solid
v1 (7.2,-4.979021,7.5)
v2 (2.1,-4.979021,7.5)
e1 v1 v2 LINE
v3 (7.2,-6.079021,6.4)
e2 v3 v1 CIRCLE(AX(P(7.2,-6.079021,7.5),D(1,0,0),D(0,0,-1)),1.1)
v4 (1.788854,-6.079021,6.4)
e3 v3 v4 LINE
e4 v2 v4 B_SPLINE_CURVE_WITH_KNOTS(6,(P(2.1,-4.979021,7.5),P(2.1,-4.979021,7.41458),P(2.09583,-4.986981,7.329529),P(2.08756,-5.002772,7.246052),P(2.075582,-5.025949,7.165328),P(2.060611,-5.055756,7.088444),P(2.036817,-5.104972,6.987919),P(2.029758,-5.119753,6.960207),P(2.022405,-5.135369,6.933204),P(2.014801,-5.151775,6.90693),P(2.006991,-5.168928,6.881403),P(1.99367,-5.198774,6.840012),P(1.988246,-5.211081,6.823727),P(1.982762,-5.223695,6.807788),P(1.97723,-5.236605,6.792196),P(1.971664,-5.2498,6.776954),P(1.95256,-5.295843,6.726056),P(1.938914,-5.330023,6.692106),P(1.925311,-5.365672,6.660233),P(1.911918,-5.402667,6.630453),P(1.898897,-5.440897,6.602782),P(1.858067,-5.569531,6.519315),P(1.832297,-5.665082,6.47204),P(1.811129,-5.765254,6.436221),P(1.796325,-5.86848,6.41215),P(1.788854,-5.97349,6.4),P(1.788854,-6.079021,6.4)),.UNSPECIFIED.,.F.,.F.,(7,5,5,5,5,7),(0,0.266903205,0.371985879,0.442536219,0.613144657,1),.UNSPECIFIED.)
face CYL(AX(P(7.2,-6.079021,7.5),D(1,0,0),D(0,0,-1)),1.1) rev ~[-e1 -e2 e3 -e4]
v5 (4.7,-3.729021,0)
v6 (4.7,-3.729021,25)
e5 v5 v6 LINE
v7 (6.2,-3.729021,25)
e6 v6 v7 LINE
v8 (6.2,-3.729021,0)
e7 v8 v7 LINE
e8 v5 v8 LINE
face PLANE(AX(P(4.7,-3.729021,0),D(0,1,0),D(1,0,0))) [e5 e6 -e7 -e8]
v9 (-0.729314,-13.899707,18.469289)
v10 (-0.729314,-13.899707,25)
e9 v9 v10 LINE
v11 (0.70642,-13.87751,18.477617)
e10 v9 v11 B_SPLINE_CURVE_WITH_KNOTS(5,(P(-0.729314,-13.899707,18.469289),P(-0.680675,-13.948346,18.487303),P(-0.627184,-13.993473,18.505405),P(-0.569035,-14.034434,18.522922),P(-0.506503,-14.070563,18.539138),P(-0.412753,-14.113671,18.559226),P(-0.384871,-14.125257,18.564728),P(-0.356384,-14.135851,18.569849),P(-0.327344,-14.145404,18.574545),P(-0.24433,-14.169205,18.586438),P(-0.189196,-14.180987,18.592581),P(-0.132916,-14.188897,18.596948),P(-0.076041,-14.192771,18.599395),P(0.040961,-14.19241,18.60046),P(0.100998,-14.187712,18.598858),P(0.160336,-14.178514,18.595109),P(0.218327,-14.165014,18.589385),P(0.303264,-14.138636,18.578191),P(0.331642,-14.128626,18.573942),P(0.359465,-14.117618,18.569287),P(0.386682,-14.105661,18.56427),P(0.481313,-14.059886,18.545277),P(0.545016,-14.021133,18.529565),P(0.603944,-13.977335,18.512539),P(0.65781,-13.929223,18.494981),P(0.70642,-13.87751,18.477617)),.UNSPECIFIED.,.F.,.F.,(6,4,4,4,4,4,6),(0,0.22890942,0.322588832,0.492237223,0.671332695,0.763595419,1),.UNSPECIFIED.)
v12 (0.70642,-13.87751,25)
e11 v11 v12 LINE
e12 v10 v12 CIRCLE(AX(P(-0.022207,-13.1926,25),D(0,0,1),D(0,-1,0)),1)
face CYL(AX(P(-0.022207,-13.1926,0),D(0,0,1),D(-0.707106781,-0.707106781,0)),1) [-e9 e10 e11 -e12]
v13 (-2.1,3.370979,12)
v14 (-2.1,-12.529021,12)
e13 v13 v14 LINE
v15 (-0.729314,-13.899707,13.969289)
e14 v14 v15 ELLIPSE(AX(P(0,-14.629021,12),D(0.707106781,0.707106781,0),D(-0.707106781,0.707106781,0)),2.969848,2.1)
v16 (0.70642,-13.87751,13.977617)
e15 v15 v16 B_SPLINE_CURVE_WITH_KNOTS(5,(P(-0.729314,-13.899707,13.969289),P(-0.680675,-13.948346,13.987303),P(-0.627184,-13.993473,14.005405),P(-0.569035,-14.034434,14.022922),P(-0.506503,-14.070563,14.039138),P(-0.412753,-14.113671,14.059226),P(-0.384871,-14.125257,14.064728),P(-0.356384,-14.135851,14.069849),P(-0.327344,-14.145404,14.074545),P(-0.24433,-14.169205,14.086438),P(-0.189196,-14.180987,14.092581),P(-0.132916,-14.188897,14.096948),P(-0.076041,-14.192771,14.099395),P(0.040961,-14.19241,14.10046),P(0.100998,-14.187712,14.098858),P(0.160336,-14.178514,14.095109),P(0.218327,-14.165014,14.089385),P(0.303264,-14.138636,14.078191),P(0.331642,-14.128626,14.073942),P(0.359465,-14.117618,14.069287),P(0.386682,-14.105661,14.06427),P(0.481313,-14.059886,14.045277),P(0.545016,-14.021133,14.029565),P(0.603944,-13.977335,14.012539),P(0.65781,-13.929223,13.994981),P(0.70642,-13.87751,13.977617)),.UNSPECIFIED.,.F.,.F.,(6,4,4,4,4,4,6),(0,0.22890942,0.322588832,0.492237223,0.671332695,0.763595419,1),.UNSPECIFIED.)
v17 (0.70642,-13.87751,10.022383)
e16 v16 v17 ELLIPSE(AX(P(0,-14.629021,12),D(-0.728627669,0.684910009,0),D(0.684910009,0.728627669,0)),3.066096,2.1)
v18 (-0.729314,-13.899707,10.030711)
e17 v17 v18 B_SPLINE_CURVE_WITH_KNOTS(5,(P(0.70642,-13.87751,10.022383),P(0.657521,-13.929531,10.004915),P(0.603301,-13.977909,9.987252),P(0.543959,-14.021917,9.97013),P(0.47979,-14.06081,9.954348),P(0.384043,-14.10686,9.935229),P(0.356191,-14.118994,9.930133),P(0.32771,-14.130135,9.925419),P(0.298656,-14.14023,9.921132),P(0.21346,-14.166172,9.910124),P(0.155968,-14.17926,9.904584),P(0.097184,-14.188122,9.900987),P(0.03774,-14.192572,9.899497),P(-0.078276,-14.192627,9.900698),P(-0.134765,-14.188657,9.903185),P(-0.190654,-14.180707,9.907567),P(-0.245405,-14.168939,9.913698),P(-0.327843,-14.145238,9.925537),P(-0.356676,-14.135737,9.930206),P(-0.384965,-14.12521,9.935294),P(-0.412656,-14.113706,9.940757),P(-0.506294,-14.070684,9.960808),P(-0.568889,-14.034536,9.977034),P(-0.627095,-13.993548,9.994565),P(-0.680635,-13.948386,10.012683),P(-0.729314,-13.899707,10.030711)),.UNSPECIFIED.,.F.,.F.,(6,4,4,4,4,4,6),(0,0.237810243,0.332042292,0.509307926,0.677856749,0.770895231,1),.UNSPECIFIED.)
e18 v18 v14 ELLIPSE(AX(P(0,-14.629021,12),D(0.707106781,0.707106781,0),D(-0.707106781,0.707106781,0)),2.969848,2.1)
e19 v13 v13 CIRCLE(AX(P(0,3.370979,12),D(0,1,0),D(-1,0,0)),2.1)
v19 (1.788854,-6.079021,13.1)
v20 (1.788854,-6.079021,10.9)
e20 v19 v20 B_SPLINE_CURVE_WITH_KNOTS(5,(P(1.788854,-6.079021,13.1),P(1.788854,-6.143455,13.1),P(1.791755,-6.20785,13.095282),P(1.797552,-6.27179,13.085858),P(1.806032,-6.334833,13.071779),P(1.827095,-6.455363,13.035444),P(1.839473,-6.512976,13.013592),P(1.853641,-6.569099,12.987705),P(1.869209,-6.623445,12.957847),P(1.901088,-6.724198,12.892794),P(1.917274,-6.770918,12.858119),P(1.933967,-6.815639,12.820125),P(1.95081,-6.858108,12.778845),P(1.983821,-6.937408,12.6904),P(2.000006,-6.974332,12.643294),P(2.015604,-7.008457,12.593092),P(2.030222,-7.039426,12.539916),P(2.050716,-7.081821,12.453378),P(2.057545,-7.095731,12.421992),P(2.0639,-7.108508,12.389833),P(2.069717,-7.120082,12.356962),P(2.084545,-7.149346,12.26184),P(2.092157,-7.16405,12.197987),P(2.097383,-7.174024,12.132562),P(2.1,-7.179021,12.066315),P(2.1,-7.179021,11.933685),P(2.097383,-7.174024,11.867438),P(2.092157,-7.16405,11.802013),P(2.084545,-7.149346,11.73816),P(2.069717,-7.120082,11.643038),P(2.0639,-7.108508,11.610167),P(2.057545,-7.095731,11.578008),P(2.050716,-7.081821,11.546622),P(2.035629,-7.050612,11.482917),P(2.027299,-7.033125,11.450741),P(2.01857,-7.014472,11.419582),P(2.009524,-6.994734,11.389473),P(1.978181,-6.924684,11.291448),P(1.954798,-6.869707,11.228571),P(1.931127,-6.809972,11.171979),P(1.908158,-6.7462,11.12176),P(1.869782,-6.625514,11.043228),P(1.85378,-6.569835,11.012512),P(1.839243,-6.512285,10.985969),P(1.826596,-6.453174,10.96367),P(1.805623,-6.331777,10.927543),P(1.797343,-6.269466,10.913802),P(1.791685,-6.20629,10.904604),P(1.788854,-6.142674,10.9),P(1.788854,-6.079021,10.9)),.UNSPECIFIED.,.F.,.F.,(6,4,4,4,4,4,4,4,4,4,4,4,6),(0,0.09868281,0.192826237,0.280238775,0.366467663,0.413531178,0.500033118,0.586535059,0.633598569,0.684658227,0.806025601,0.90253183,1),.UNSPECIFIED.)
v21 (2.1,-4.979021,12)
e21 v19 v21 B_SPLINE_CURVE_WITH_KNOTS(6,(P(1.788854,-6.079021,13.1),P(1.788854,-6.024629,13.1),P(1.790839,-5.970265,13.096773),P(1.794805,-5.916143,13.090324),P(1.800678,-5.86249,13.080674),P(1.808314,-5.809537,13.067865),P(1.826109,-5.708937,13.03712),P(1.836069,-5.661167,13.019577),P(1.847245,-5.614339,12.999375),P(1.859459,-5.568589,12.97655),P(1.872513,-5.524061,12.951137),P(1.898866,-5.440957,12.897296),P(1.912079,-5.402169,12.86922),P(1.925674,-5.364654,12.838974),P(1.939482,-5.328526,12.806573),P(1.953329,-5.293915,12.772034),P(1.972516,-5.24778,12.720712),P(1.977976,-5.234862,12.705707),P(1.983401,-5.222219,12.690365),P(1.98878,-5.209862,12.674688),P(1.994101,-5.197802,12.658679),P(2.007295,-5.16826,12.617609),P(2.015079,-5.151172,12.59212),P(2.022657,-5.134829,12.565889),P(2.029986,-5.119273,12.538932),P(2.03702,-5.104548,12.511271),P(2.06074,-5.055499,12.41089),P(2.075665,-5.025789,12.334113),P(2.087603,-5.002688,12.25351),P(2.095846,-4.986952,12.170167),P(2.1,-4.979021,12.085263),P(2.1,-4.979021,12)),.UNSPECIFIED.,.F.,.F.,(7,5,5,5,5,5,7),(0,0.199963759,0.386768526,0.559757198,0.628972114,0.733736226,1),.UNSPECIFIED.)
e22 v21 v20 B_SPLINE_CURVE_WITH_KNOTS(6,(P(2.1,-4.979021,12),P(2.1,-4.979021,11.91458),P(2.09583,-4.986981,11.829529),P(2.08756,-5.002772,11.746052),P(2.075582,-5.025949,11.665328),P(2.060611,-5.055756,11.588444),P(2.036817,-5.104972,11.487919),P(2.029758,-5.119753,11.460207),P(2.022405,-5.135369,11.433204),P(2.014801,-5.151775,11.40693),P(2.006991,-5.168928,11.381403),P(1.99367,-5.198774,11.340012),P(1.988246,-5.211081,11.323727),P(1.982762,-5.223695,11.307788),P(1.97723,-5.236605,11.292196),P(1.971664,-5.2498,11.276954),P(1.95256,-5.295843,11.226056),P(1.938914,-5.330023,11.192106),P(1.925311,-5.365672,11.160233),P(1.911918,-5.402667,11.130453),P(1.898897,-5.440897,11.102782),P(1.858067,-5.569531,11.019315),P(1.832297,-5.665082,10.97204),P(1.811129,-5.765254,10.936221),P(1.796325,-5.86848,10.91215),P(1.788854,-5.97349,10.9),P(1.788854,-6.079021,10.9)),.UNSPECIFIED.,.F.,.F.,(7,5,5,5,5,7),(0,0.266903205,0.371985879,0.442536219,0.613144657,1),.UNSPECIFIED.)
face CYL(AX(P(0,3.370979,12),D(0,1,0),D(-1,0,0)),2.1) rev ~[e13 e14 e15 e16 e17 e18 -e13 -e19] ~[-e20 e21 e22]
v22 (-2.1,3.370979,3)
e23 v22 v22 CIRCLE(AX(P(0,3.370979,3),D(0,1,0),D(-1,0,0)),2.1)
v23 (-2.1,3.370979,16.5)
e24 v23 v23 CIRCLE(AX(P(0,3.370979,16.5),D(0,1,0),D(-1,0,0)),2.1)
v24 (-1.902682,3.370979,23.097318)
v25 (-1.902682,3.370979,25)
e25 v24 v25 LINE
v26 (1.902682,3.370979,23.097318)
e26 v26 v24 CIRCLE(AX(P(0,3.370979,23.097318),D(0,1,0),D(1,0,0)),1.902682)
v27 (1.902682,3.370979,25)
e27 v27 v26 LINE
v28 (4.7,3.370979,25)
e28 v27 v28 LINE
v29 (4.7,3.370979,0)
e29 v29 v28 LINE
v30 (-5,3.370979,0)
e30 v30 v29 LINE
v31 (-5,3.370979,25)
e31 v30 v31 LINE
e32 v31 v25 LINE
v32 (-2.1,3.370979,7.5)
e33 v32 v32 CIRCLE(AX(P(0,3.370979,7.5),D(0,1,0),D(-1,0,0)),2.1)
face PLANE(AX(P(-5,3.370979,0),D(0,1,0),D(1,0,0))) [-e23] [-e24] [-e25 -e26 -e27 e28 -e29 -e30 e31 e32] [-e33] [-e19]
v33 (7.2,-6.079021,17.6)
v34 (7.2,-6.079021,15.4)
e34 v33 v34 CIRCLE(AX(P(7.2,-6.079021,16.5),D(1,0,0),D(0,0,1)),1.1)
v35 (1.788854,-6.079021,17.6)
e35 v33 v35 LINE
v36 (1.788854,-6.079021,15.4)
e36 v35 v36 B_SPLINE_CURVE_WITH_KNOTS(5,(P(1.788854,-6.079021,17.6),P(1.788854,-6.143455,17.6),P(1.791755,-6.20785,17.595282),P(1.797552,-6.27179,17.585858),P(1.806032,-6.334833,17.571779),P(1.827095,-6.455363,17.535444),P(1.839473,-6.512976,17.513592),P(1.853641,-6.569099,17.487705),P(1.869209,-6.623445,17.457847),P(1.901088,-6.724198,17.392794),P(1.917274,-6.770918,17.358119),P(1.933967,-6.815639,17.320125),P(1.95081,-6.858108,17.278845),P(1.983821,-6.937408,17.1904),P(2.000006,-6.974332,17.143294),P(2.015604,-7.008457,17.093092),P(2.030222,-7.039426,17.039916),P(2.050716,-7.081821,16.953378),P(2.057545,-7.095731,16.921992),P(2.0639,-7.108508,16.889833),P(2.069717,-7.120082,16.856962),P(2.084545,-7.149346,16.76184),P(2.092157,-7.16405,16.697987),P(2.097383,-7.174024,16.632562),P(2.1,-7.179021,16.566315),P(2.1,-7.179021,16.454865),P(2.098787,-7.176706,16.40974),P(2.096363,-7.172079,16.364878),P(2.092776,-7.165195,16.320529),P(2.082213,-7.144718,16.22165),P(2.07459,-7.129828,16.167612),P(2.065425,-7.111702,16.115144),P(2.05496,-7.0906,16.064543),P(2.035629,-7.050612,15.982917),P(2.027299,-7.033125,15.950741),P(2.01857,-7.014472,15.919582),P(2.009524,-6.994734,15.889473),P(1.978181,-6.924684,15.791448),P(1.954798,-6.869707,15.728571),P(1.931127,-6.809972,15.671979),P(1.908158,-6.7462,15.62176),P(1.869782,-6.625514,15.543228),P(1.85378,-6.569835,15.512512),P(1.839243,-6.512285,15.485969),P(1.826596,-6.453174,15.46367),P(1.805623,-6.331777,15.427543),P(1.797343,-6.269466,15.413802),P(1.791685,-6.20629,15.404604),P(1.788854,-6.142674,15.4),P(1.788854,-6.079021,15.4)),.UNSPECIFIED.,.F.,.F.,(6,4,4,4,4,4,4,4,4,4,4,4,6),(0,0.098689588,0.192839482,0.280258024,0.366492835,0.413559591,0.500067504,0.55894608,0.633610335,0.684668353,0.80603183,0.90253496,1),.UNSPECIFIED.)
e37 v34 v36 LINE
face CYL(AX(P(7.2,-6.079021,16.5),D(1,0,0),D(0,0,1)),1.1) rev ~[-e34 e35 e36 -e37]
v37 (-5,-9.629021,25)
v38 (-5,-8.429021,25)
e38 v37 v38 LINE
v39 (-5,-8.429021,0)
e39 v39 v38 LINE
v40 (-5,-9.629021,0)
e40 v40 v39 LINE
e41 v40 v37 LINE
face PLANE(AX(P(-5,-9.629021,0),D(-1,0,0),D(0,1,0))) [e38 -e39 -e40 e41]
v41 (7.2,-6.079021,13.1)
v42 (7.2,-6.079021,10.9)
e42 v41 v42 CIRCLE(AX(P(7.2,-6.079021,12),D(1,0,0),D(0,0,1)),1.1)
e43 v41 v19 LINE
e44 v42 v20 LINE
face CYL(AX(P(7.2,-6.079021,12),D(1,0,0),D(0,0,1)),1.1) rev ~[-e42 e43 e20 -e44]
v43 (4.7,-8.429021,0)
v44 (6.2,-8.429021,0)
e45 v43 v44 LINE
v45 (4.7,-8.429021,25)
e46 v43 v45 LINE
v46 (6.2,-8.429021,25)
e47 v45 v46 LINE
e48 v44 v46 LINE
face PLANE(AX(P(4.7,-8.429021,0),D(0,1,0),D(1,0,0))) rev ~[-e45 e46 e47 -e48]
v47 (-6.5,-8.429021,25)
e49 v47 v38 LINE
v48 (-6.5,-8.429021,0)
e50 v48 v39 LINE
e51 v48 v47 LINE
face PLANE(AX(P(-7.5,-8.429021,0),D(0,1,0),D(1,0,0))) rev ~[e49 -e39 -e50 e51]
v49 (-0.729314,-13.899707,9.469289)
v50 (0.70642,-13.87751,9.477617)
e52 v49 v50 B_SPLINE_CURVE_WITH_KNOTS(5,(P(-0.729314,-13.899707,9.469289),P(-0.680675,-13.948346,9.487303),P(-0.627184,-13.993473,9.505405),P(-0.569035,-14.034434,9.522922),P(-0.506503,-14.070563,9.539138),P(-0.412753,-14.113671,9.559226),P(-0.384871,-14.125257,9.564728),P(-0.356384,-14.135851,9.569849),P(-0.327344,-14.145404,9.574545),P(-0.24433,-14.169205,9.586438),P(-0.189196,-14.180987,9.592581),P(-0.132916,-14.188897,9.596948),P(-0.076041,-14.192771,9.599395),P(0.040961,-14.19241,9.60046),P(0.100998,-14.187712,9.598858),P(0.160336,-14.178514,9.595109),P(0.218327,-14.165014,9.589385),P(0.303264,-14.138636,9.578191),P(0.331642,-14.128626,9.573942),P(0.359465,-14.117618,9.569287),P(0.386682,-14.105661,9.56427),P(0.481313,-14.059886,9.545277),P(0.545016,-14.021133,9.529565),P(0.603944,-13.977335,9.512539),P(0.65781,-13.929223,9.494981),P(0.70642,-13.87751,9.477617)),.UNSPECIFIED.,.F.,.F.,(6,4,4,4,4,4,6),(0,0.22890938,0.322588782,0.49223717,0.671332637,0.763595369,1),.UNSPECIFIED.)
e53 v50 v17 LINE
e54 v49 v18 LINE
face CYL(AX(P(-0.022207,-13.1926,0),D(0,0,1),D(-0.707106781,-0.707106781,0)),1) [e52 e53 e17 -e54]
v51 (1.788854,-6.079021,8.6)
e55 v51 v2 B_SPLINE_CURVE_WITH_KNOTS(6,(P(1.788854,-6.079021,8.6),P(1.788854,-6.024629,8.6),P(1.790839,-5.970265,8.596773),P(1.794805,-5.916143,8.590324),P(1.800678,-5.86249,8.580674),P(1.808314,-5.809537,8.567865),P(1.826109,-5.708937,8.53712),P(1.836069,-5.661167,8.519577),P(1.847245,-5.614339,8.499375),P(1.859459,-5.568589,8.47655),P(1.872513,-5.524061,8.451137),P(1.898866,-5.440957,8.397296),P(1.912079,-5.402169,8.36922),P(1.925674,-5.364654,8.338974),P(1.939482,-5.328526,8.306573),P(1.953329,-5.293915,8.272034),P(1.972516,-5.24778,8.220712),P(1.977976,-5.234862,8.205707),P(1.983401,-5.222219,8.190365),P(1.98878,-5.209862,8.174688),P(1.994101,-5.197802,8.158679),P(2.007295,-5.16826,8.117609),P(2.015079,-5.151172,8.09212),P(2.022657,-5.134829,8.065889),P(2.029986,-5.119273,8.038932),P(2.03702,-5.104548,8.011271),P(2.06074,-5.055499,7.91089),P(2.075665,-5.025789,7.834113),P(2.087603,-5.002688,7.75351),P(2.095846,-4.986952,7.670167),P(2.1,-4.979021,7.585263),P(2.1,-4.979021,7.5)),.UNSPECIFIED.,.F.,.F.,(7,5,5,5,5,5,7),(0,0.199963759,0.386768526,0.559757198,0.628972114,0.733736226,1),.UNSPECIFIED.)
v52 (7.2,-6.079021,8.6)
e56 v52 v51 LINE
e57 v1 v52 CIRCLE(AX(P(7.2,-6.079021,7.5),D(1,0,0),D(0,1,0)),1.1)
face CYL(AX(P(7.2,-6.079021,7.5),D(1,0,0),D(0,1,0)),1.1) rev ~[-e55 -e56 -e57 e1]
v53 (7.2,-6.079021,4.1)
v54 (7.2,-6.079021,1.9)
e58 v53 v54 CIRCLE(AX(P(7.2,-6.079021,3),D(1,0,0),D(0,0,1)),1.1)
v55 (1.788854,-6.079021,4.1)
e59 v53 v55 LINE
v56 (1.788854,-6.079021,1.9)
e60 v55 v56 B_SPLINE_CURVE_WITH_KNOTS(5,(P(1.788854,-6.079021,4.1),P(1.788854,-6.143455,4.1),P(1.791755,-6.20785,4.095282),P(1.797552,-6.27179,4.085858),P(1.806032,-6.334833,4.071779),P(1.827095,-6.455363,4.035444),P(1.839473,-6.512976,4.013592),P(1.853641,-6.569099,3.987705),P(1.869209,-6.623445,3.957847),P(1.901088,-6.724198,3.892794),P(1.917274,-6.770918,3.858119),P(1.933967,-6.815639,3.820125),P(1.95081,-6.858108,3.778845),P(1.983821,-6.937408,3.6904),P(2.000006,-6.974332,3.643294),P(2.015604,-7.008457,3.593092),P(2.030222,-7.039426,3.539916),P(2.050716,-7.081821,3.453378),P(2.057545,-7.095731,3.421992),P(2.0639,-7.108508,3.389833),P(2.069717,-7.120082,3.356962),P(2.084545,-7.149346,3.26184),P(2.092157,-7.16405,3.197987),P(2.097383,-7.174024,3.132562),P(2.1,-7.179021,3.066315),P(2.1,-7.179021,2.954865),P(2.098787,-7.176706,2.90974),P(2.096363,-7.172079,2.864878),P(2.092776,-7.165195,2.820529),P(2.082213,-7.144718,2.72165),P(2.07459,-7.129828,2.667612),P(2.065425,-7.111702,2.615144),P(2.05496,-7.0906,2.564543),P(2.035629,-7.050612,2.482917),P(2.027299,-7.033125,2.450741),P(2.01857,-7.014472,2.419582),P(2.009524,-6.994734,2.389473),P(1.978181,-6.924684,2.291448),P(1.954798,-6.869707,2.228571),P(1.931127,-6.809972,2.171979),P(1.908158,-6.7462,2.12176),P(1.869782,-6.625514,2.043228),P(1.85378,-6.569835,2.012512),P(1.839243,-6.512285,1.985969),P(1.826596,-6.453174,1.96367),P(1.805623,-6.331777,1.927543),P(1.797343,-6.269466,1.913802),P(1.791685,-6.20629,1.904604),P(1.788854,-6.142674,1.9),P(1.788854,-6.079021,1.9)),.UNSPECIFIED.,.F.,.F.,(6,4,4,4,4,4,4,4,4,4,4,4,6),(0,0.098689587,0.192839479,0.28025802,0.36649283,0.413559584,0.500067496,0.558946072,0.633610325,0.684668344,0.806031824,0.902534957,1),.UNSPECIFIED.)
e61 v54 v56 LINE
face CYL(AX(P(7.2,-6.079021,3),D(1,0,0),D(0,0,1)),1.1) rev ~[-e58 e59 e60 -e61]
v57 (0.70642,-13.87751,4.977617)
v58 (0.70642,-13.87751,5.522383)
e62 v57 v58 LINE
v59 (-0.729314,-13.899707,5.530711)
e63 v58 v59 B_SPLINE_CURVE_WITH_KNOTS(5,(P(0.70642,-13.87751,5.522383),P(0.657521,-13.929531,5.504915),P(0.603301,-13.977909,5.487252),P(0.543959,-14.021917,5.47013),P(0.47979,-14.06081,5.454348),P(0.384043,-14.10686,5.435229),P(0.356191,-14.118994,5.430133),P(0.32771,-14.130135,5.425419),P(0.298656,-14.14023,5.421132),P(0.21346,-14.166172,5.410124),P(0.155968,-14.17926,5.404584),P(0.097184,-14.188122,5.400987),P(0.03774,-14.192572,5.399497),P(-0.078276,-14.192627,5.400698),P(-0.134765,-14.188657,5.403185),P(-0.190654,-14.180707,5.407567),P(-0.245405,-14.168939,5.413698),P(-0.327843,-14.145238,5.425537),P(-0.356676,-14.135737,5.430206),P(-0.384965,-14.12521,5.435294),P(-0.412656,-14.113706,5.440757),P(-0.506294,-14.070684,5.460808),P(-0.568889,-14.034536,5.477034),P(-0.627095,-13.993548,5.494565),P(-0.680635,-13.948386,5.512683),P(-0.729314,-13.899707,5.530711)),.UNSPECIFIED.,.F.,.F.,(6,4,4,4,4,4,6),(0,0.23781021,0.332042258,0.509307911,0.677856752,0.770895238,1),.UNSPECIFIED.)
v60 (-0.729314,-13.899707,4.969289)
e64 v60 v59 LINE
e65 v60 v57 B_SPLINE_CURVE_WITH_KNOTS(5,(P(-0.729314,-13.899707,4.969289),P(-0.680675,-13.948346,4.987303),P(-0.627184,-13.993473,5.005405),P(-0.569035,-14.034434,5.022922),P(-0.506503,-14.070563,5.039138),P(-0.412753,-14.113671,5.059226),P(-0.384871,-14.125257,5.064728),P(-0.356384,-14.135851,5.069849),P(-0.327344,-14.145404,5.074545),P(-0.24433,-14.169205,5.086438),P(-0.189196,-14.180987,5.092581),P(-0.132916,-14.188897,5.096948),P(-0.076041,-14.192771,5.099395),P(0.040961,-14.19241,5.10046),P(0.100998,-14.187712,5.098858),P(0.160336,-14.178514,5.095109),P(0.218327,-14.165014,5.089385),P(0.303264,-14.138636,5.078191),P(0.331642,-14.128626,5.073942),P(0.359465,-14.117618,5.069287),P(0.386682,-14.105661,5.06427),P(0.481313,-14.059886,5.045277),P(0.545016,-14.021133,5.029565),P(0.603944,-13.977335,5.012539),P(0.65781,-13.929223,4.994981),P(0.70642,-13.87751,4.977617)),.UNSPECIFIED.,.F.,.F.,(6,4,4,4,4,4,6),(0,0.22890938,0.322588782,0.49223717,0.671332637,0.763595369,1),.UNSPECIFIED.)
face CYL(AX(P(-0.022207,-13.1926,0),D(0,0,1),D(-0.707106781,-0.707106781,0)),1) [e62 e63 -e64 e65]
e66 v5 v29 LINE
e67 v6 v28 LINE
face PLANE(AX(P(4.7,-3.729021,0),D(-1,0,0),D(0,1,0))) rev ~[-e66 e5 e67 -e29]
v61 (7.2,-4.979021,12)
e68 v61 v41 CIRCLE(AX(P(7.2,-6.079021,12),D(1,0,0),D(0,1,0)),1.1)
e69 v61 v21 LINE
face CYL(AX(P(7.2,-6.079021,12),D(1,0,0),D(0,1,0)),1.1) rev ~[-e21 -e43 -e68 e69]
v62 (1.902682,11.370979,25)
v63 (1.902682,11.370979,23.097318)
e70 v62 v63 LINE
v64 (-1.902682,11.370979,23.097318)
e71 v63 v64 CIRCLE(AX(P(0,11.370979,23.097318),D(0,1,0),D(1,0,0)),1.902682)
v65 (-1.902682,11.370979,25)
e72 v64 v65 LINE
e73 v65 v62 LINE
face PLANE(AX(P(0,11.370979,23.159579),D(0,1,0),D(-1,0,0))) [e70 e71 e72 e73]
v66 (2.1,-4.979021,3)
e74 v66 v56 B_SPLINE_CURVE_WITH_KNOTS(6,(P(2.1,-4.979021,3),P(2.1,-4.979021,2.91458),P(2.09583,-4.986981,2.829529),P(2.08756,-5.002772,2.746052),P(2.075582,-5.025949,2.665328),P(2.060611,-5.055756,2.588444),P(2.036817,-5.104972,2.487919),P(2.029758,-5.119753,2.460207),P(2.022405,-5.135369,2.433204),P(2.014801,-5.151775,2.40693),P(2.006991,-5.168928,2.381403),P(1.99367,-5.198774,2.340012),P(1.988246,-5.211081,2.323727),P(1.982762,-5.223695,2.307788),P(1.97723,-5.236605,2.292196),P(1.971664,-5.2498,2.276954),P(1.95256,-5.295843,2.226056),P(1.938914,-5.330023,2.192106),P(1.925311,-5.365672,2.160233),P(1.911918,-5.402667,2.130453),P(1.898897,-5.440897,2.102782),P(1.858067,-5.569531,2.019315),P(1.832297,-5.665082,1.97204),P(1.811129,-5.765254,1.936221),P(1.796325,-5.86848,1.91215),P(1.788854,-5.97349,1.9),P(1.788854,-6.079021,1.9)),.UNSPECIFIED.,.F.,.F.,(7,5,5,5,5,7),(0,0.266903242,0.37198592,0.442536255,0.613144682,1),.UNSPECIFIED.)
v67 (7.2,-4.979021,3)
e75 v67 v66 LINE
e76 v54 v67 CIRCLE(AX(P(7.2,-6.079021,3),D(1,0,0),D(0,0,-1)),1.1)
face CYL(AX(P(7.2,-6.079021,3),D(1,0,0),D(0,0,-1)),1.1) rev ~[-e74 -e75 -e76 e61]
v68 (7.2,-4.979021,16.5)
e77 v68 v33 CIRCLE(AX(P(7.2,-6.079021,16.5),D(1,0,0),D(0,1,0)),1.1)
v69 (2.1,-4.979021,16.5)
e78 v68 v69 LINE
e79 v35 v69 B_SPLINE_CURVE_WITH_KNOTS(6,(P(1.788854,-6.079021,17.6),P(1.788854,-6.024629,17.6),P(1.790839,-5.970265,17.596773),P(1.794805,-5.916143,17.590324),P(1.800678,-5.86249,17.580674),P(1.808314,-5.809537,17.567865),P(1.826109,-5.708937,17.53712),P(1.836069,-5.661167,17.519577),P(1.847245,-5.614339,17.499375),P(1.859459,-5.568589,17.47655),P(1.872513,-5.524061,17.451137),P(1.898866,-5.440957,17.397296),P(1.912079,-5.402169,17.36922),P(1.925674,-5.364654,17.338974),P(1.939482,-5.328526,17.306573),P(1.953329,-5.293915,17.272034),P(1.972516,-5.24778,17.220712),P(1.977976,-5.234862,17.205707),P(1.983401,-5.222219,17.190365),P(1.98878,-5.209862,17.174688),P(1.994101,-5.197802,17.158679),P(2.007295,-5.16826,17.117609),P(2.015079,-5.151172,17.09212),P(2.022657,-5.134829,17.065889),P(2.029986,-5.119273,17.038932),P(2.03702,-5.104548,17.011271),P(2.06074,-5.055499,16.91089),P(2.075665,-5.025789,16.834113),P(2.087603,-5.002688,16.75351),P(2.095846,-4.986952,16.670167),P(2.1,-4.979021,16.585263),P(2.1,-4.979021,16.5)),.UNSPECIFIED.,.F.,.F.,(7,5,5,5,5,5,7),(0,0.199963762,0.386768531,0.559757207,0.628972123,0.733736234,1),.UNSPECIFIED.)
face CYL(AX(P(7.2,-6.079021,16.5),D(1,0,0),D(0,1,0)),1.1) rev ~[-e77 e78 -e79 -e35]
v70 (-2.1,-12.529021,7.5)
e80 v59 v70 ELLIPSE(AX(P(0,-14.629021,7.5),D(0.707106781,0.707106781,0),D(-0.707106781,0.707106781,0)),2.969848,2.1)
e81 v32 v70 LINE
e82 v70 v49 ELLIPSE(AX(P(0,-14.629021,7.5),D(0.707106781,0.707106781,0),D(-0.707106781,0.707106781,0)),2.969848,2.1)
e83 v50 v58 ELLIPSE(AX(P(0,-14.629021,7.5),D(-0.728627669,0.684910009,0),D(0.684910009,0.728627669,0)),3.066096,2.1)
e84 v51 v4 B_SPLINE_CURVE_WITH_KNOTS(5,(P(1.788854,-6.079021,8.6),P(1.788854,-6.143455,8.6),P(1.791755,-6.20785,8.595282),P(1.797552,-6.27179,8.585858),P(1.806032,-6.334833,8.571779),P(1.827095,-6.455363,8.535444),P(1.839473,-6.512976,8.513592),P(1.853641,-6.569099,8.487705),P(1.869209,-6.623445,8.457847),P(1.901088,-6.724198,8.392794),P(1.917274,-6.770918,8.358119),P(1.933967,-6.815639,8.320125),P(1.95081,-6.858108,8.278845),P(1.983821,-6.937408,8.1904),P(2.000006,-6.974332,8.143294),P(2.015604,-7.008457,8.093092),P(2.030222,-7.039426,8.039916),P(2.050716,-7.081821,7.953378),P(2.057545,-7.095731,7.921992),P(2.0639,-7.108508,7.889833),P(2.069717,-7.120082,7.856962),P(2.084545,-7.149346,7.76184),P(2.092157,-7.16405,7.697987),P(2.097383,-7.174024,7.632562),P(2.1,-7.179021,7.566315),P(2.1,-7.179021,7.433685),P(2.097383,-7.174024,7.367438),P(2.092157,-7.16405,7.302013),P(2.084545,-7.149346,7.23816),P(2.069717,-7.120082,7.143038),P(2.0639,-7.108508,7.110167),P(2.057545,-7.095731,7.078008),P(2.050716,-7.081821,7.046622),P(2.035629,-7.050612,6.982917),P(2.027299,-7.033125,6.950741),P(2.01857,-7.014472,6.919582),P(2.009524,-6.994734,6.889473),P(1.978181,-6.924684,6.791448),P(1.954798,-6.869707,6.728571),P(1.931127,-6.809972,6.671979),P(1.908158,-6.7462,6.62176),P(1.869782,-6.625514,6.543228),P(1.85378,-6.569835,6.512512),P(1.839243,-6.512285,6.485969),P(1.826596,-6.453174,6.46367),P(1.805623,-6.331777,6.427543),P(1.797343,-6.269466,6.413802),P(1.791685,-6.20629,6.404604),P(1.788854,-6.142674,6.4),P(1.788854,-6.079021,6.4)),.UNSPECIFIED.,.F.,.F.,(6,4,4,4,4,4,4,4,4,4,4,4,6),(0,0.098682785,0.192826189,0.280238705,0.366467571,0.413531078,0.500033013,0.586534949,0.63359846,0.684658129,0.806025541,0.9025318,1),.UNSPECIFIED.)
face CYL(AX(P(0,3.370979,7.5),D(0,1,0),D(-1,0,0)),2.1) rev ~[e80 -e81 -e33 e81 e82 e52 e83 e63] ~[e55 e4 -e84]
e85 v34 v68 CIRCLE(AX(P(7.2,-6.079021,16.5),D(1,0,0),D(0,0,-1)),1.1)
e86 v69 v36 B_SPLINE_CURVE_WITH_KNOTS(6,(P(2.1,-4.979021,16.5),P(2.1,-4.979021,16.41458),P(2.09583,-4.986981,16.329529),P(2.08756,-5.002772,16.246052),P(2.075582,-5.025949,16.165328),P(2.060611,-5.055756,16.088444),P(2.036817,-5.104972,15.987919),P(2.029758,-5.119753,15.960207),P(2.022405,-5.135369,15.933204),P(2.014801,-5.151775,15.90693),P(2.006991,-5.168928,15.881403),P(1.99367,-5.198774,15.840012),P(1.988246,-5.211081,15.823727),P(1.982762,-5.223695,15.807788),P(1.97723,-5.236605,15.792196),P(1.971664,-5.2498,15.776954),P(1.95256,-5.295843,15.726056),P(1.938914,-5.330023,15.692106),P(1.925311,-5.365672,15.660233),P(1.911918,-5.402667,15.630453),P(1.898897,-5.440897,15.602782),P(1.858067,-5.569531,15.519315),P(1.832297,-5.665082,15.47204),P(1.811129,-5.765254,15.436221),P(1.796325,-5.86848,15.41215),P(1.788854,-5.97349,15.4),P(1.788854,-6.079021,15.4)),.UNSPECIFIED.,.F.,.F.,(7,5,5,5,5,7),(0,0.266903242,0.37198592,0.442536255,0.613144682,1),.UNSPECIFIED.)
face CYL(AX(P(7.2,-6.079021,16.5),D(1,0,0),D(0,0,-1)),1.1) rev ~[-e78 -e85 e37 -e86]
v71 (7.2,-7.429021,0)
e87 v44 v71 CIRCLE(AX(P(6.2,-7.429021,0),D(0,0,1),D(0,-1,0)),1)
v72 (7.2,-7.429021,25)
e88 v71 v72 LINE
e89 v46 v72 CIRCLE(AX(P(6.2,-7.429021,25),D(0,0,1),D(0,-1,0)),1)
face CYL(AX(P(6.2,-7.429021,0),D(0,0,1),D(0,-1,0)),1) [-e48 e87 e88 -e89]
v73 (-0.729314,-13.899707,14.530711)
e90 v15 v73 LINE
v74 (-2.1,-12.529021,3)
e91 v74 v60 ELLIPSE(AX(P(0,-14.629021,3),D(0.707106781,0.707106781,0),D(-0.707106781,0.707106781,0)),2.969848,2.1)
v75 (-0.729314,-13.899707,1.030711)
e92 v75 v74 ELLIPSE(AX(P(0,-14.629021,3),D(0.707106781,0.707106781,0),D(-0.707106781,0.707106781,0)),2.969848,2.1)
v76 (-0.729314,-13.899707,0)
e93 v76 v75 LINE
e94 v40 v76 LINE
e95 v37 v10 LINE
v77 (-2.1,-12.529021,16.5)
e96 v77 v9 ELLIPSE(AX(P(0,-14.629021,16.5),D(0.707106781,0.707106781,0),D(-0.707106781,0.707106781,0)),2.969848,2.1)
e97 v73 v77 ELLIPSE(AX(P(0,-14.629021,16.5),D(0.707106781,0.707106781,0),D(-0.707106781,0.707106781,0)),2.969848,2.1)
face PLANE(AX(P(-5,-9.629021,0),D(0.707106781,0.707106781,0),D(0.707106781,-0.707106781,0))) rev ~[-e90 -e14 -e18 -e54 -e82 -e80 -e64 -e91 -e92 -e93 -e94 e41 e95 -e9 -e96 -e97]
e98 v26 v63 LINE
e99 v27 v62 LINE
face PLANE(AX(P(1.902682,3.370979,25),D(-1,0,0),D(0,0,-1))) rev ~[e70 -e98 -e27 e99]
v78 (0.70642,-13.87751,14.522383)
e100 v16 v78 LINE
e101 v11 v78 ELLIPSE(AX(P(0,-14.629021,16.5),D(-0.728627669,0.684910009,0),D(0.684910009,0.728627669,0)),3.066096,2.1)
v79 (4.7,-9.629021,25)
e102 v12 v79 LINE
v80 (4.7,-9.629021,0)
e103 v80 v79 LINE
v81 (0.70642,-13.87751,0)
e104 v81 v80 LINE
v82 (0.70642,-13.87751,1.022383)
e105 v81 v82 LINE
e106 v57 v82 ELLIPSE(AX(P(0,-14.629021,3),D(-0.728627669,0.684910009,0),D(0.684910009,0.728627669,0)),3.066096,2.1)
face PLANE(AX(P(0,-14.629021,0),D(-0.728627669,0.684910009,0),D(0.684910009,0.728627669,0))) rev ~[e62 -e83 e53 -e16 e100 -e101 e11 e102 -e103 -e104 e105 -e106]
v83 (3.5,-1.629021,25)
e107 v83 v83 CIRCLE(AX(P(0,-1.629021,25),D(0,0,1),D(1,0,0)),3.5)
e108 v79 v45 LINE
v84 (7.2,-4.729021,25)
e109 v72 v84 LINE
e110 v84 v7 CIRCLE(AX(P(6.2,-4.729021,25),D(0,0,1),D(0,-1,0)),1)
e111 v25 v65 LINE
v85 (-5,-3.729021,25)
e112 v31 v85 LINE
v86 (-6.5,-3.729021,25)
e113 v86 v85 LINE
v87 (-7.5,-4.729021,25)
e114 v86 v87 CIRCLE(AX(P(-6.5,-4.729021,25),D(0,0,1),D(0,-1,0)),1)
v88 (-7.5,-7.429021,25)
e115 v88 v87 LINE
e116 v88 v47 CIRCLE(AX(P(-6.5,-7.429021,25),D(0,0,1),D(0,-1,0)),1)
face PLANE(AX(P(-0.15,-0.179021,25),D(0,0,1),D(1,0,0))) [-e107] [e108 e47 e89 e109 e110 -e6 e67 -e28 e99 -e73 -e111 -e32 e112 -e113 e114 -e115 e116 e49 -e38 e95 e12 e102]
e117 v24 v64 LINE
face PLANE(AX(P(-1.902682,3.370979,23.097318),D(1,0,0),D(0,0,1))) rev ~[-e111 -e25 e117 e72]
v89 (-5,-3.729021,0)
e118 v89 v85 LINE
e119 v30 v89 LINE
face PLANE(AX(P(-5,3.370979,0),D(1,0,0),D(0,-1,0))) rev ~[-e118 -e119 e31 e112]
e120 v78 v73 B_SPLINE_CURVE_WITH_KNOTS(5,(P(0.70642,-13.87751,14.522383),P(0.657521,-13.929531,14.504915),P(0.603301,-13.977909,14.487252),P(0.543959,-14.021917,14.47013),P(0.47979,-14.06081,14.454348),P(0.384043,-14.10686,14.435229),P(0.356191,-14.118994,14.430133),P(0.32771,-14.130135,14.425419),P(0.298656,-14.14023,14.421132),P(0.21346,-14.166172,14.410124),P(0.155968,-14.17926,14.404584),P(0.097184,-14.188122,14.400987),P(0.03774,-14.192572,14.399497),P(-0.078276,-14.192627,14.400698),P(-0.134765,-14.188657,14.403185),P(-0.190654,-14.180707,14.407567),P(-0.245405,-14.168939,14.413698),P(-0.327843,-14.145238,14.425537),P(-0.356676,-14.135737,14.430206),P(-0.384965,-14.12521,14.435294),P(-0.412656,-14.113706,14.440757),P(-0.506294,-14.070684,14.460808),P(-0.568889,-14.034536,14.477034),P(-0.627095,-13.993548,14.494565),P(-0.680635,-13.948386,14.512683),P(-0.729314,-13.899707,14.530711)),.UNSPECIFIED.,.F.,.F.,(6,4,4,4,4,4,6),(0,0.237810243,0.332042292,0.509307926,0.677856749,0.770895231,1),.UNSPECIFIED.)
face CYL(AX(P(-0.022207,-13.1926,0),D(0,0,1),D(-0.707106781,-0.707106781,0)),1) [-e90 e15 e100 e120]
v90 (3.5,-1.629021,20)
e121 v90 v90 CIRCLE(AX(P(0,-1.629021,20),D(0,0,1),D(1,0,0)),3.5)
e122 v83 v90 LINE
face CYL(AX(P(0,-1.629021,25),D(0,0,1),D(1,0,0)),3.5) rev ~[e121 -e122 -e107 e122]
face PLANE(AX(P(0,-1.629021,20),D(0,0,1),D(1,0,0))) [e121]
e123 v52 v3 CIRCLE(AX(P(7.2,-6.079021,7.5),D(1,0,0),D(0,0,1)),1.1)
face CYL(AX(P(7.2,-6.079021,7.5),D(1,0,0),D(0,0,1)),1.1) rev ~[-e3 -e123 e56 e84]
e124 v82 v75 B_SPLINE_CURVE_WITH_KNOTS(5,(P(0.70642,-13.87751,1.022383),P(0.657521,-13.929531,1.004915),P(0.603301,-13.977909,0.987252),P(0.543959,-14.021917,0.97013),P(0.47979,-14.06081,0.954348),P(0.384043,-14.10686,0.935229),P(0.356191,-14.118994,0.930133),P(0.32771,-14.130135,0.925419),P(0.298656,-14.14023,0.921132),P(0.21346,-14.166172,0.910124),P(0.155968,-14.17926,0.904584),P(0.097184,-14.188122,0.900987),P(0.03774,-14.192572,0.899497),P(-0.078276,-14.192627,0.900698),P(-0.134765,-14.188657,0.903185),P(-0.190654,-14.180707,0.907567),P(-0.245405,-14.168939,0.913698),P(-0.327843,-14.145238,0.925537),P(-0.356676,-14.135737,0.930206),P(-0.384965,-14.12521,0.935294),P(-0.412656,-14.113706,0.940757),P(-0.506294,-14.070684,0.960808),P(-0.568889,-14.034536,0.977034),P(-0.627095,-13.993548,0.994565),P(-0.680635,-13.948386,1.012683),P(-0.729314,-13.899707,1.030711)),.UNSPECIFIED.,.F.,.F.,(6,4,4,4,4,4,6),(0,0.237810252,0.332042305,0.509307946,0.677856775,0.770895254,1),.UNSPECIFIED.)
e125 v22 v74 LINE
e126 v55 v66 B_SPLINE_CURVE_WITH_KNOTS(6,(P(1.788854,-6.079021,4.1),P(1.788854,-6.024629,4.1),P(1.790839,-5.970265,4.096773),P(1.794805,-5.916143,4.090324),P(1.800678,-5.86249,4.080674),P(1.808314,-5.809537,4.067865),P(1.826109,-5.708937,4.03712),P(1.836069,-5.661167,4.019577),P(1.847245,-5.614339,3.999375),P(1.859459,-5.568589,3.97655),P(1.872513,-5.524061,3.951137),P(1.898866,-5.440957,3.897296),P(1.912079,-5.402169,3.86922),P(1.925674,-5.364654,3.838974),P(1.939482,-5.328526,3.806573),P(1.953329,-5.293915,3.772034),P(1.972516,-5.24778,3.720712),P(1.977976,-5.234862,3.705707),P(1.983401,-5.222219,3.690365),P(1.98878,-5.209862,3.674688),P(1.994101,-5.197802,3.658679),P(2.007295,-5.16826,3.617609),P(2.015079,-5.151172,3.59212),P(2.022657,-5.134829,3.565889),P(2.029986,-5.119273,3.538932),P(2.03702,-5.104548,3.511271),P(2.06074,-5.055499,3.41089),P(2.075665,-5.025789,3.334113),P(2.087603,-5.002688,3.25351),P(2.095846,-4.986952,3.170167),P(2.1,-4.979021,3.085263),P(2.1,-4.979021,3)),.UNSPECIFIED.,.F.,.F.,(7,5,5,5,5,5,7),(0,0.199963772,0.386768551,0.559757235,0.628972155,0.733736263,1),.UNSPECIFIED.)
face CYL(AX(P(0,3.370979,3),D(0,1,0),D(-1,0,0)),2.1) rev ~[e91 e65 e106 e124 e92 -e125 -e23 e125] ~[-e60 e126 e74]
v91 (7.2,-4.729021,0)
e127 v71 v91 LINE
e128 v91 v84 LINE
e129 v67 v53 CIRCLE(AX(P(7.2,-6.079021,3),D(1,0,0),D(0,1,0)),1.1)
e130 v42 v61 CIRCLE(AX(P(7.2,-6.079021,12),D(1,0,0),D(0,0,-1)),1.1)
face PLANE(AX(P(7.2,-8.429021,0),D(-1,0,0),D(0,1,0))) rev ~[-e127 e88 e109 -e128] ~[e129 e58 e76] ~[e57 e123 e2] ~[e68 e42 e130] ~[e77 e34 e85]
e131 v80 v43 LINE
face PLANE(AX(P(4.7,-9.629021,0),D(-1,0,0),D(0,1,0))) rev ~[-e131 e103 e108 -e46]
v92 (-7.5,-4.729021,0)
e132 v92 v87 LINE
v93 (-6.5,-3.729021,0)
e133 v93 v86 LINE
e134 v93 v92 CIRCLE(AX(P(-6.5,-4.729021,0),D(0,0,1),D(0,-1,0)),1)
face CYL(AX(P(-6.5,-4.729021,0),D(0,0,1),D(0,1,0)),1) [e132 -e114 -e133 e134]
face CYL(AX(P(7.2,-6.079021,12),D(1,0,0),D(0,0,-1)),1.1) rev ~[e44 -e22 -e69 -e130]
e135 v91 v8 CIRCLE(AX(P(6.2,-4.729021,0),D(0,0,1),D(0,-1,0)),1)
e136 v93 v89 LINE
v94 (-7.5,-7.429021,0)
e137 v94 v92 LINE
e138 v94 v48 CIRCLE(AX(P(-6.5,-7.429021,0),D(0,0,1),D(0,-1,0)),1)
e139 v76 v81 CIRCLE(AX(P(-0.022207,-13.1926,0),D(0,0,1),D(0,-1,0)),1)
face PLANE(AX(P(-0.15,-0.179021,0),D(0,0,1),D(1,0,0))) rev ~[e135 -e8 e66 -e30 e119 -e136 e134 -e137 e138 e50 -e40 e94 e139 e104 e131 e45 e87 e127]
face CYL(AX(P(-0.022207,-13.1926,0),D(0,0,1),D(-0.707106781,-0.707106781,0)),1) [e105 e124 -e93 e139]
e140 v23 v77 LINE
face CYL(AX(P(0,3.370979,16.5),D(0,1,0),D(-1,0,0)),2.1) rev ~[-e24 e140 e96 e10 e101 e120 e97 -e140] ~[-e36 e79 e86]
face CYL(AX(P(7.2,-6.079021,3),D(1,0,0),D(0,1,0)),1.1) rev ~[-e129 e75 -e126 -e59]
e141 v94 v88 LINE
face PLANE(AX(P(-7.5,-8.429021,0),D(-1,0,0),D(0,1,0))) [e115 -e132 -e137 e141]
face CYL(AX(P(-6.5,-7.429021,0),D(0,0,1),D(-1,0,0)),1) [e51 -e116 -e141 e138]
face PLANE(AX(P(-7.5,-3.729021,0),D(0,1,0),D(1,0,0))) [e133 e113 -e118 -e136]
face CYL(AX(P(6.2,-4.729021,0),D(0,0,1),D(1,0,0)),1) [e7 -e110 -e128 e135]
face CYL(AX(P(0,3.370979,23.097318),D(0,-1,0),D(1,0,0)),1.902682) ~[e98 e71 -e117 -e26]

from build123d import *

# Parameters (mm, degrees)
F0_W      = 9.7
F0_H      = 7.1
F0_H_2    = 4.7
F0_W_2    = 2.5
F0_H_3    = 1.2
F1_DEPTH  = 25
F2_R      = 1
F3_R      = 2.1
F4_DEPTH  = 30
F6_DEPTH  = 8
F7_R      = 3.5
F8_DEPTH  = 5
F10_DEPTH = 6


with BuildPart() as f1:
    # F0 (on Top) → F1 (new body)
    with BuildSketch(Plane.XY):
        with Locations((-0.15, -0.179021287)):
            Rectangle(F0_W, F0_H)
        with Locations((-0.15, -6.079021287)):
            Rectangle(F0_W, F0_H_2)
        with Locations((-6.25, -6.079021287)):
            Rectangle(F0_W_2, F0_H_2)
        with Locations((5.95, -6.079021287)):
            Rectangle(F0_W_2, F0_H_2)
        with Locations((-0.15, -9.029021287)):
            Rectangle(F0_W, F0_H_3)
        Polygon((4.7, -9.629021287), (-5, -9.629021287), (0, -14.629021287), align=None)
    extrude(amount=F1_DEPTH)

    # F2
    f2_edges = [f1.edges().sort_by_distance(p)[0] for p in [
        (-7.5, -3.729021, 12.5),
        (-7.5, -8.429021, 12.5),
        (7.2, -3.729021, 12.5),
        (7.2, -8.429021, 12.5),
        (0, -14.629021, 12.5),
    ]]
    fillet(f2_edges, radius=F2_R)

    # F3 (on face) → F4 (cut)
    with BuildSketch(Plane(origin=(0, 3.370978713, 0), x_dir=(-1, 0, 0), z_dir=(0, 1, 0))):
        with Locations((0, 7.5)):
            Circle(F3_R)
        with Locations((0, 12)):
            Circle(F3_R)
        with Locations((0, 3)):
            Circle(F3_R)
        with Locations((0, 16.5)):
            Circle(F3_R)
    extrude(amount=-F4_DEPTH, mode=Mode.SUBTRACT)

    # F5 (on face) → F6 (join)
    with BuildSketch(Plane(origin=(0, 3.370978713, 0), x_dir=(-1, 0, 0), z_dir=(0, 1, 0))):
        with BuildLine():
            ThreePointArc((0, 25), (-1.3453995809, 24.4427172468), (-1.9026823342, 23.0973176658))
            ThreePointArc((-1.9026823342, 23.0973176658), (0, 21.1946353316), (1.9026823342, 23.0973176658))
            ThreePointArc((1.9026823342, 23.0973176658), (1.3453995809, 24.4427172468), (0, 25))
        make_face()
        with BuildLine():
            Line((-1.9026823342, 25), (-1.9026823342, 23.0973176658))
            ThreePointArc((-1.9026823342, 23.0973176658), (-1.3453995809, 24.4427172468), (0, 25))
            Line((0, 25), (-1.9026823342, 25))
        make_face()
        with BuildLine():
            ThreePointArc((0, 25), (1.3453995809, 24.4427172468), (1.9026823342, 23.0973176658))
            Line((1.9026823342, 23.0973176658), (1.9026823342, 25))
            Line((1.9026823342, 25), (0, 25))
        make_face()
    extrude(amount=F6_DEPTH)

    # F7 (on face) → F8 (cut)
    with BuildSketch(Plane.XY.offset(25)):
        with Locations((0, -1.629021287)):
            Circle(F7_R)
    extrude(amount=-F8_DEPTH, mode=Mode.SUBTRACT)

    # F9 (on face) → F10 (cut)
    with BuildSketch(Plane.YZ.offset(7.2)):
        with BuildLine():
            ThreePointArc((-6.079021287, 15.4), (-5.3012038277, 15.7221825407), (-4.979021287, 16.5))
            ThreePointArc((-4.979021287, 16.5), (-5.3012038277, 17.2778174593), (-6.079021287, 17.6))
            Line((-6.079021287, 17.6), (-6.079021287, 15.4))
        make_face()
        with BuildLine():
            ThreePointArc((-4.979021287, 3), (-5.3012038277, 3.7778174593), (-6.079021287, 4.1))
            Line((-6.079021287, 4.1), (-6.079021287, 1.9))
            ThreePointArc((-6.079021287, 1.9), (-5.3012038277, 2.2221825407), (-4.979021287, 3))
        make_face()
        with BuildLine():
            Line((-6.079021287, 1.9), (-6.079021287, 4.1))
            ThreePointArc((-6.079021287, 4.1), (-7.179021287, 3), (-6.079021287, 1.9))
        make_face()
        with BuildLine():
            ThreePointArc((-4.979021287, 7.5), (-5.3012038277, 8.2778174593), (-6.079021287, 8.6))
            Line((-6.079021287, 8.6), (-6.079021287, 6.4))
            ThreePointArc((-6.079021287, 6.4), (-5.3012038277, 6.7221825407), (-4.979021287, 7.5))
        make_face()
        with BuildLine():
            Line((-6.079021287, 6.4), (-6.079021287, 8.6))
            ThreePointArc((-6.079021287, 8.6), (-7.179021287, 7.5), (-6.079021287, 6.4))
        make_face()
        with BuildLine():
            ThreePointArc((-4.979021287, 12), (-5.3012038277, 12.7778174593), (-6.079021287, 13.1))
            Line((-6.079021287, 13.1), (-6.079021287, 10.9))
            ThreePointArc((-6.079021287, 10.9), (-5.3012038277, 11.2221825407), (-4.979021287, 12))
        make_face()
        with BuildLine():
            Line((-6.079021287, 10.9), (-6.079021287, 13.1))
            ThreePointArc((-6.079021287, 13.1), (-7.179021287, 12), (-6.079021287, 10.9))
        make_face()
        with BuildLine():
            Line((-6.079021287, 15.4), (-6.079021287, 17.6))
            ThreePointArc((-6.079021287, 17.6), (-7.179021287, 16.5), (-6.079021287, 15.4))
        make_face()
    extrude(amount=-F10_DEPTH, mode=Mode.SUBTRACT)


solid = f1.part
